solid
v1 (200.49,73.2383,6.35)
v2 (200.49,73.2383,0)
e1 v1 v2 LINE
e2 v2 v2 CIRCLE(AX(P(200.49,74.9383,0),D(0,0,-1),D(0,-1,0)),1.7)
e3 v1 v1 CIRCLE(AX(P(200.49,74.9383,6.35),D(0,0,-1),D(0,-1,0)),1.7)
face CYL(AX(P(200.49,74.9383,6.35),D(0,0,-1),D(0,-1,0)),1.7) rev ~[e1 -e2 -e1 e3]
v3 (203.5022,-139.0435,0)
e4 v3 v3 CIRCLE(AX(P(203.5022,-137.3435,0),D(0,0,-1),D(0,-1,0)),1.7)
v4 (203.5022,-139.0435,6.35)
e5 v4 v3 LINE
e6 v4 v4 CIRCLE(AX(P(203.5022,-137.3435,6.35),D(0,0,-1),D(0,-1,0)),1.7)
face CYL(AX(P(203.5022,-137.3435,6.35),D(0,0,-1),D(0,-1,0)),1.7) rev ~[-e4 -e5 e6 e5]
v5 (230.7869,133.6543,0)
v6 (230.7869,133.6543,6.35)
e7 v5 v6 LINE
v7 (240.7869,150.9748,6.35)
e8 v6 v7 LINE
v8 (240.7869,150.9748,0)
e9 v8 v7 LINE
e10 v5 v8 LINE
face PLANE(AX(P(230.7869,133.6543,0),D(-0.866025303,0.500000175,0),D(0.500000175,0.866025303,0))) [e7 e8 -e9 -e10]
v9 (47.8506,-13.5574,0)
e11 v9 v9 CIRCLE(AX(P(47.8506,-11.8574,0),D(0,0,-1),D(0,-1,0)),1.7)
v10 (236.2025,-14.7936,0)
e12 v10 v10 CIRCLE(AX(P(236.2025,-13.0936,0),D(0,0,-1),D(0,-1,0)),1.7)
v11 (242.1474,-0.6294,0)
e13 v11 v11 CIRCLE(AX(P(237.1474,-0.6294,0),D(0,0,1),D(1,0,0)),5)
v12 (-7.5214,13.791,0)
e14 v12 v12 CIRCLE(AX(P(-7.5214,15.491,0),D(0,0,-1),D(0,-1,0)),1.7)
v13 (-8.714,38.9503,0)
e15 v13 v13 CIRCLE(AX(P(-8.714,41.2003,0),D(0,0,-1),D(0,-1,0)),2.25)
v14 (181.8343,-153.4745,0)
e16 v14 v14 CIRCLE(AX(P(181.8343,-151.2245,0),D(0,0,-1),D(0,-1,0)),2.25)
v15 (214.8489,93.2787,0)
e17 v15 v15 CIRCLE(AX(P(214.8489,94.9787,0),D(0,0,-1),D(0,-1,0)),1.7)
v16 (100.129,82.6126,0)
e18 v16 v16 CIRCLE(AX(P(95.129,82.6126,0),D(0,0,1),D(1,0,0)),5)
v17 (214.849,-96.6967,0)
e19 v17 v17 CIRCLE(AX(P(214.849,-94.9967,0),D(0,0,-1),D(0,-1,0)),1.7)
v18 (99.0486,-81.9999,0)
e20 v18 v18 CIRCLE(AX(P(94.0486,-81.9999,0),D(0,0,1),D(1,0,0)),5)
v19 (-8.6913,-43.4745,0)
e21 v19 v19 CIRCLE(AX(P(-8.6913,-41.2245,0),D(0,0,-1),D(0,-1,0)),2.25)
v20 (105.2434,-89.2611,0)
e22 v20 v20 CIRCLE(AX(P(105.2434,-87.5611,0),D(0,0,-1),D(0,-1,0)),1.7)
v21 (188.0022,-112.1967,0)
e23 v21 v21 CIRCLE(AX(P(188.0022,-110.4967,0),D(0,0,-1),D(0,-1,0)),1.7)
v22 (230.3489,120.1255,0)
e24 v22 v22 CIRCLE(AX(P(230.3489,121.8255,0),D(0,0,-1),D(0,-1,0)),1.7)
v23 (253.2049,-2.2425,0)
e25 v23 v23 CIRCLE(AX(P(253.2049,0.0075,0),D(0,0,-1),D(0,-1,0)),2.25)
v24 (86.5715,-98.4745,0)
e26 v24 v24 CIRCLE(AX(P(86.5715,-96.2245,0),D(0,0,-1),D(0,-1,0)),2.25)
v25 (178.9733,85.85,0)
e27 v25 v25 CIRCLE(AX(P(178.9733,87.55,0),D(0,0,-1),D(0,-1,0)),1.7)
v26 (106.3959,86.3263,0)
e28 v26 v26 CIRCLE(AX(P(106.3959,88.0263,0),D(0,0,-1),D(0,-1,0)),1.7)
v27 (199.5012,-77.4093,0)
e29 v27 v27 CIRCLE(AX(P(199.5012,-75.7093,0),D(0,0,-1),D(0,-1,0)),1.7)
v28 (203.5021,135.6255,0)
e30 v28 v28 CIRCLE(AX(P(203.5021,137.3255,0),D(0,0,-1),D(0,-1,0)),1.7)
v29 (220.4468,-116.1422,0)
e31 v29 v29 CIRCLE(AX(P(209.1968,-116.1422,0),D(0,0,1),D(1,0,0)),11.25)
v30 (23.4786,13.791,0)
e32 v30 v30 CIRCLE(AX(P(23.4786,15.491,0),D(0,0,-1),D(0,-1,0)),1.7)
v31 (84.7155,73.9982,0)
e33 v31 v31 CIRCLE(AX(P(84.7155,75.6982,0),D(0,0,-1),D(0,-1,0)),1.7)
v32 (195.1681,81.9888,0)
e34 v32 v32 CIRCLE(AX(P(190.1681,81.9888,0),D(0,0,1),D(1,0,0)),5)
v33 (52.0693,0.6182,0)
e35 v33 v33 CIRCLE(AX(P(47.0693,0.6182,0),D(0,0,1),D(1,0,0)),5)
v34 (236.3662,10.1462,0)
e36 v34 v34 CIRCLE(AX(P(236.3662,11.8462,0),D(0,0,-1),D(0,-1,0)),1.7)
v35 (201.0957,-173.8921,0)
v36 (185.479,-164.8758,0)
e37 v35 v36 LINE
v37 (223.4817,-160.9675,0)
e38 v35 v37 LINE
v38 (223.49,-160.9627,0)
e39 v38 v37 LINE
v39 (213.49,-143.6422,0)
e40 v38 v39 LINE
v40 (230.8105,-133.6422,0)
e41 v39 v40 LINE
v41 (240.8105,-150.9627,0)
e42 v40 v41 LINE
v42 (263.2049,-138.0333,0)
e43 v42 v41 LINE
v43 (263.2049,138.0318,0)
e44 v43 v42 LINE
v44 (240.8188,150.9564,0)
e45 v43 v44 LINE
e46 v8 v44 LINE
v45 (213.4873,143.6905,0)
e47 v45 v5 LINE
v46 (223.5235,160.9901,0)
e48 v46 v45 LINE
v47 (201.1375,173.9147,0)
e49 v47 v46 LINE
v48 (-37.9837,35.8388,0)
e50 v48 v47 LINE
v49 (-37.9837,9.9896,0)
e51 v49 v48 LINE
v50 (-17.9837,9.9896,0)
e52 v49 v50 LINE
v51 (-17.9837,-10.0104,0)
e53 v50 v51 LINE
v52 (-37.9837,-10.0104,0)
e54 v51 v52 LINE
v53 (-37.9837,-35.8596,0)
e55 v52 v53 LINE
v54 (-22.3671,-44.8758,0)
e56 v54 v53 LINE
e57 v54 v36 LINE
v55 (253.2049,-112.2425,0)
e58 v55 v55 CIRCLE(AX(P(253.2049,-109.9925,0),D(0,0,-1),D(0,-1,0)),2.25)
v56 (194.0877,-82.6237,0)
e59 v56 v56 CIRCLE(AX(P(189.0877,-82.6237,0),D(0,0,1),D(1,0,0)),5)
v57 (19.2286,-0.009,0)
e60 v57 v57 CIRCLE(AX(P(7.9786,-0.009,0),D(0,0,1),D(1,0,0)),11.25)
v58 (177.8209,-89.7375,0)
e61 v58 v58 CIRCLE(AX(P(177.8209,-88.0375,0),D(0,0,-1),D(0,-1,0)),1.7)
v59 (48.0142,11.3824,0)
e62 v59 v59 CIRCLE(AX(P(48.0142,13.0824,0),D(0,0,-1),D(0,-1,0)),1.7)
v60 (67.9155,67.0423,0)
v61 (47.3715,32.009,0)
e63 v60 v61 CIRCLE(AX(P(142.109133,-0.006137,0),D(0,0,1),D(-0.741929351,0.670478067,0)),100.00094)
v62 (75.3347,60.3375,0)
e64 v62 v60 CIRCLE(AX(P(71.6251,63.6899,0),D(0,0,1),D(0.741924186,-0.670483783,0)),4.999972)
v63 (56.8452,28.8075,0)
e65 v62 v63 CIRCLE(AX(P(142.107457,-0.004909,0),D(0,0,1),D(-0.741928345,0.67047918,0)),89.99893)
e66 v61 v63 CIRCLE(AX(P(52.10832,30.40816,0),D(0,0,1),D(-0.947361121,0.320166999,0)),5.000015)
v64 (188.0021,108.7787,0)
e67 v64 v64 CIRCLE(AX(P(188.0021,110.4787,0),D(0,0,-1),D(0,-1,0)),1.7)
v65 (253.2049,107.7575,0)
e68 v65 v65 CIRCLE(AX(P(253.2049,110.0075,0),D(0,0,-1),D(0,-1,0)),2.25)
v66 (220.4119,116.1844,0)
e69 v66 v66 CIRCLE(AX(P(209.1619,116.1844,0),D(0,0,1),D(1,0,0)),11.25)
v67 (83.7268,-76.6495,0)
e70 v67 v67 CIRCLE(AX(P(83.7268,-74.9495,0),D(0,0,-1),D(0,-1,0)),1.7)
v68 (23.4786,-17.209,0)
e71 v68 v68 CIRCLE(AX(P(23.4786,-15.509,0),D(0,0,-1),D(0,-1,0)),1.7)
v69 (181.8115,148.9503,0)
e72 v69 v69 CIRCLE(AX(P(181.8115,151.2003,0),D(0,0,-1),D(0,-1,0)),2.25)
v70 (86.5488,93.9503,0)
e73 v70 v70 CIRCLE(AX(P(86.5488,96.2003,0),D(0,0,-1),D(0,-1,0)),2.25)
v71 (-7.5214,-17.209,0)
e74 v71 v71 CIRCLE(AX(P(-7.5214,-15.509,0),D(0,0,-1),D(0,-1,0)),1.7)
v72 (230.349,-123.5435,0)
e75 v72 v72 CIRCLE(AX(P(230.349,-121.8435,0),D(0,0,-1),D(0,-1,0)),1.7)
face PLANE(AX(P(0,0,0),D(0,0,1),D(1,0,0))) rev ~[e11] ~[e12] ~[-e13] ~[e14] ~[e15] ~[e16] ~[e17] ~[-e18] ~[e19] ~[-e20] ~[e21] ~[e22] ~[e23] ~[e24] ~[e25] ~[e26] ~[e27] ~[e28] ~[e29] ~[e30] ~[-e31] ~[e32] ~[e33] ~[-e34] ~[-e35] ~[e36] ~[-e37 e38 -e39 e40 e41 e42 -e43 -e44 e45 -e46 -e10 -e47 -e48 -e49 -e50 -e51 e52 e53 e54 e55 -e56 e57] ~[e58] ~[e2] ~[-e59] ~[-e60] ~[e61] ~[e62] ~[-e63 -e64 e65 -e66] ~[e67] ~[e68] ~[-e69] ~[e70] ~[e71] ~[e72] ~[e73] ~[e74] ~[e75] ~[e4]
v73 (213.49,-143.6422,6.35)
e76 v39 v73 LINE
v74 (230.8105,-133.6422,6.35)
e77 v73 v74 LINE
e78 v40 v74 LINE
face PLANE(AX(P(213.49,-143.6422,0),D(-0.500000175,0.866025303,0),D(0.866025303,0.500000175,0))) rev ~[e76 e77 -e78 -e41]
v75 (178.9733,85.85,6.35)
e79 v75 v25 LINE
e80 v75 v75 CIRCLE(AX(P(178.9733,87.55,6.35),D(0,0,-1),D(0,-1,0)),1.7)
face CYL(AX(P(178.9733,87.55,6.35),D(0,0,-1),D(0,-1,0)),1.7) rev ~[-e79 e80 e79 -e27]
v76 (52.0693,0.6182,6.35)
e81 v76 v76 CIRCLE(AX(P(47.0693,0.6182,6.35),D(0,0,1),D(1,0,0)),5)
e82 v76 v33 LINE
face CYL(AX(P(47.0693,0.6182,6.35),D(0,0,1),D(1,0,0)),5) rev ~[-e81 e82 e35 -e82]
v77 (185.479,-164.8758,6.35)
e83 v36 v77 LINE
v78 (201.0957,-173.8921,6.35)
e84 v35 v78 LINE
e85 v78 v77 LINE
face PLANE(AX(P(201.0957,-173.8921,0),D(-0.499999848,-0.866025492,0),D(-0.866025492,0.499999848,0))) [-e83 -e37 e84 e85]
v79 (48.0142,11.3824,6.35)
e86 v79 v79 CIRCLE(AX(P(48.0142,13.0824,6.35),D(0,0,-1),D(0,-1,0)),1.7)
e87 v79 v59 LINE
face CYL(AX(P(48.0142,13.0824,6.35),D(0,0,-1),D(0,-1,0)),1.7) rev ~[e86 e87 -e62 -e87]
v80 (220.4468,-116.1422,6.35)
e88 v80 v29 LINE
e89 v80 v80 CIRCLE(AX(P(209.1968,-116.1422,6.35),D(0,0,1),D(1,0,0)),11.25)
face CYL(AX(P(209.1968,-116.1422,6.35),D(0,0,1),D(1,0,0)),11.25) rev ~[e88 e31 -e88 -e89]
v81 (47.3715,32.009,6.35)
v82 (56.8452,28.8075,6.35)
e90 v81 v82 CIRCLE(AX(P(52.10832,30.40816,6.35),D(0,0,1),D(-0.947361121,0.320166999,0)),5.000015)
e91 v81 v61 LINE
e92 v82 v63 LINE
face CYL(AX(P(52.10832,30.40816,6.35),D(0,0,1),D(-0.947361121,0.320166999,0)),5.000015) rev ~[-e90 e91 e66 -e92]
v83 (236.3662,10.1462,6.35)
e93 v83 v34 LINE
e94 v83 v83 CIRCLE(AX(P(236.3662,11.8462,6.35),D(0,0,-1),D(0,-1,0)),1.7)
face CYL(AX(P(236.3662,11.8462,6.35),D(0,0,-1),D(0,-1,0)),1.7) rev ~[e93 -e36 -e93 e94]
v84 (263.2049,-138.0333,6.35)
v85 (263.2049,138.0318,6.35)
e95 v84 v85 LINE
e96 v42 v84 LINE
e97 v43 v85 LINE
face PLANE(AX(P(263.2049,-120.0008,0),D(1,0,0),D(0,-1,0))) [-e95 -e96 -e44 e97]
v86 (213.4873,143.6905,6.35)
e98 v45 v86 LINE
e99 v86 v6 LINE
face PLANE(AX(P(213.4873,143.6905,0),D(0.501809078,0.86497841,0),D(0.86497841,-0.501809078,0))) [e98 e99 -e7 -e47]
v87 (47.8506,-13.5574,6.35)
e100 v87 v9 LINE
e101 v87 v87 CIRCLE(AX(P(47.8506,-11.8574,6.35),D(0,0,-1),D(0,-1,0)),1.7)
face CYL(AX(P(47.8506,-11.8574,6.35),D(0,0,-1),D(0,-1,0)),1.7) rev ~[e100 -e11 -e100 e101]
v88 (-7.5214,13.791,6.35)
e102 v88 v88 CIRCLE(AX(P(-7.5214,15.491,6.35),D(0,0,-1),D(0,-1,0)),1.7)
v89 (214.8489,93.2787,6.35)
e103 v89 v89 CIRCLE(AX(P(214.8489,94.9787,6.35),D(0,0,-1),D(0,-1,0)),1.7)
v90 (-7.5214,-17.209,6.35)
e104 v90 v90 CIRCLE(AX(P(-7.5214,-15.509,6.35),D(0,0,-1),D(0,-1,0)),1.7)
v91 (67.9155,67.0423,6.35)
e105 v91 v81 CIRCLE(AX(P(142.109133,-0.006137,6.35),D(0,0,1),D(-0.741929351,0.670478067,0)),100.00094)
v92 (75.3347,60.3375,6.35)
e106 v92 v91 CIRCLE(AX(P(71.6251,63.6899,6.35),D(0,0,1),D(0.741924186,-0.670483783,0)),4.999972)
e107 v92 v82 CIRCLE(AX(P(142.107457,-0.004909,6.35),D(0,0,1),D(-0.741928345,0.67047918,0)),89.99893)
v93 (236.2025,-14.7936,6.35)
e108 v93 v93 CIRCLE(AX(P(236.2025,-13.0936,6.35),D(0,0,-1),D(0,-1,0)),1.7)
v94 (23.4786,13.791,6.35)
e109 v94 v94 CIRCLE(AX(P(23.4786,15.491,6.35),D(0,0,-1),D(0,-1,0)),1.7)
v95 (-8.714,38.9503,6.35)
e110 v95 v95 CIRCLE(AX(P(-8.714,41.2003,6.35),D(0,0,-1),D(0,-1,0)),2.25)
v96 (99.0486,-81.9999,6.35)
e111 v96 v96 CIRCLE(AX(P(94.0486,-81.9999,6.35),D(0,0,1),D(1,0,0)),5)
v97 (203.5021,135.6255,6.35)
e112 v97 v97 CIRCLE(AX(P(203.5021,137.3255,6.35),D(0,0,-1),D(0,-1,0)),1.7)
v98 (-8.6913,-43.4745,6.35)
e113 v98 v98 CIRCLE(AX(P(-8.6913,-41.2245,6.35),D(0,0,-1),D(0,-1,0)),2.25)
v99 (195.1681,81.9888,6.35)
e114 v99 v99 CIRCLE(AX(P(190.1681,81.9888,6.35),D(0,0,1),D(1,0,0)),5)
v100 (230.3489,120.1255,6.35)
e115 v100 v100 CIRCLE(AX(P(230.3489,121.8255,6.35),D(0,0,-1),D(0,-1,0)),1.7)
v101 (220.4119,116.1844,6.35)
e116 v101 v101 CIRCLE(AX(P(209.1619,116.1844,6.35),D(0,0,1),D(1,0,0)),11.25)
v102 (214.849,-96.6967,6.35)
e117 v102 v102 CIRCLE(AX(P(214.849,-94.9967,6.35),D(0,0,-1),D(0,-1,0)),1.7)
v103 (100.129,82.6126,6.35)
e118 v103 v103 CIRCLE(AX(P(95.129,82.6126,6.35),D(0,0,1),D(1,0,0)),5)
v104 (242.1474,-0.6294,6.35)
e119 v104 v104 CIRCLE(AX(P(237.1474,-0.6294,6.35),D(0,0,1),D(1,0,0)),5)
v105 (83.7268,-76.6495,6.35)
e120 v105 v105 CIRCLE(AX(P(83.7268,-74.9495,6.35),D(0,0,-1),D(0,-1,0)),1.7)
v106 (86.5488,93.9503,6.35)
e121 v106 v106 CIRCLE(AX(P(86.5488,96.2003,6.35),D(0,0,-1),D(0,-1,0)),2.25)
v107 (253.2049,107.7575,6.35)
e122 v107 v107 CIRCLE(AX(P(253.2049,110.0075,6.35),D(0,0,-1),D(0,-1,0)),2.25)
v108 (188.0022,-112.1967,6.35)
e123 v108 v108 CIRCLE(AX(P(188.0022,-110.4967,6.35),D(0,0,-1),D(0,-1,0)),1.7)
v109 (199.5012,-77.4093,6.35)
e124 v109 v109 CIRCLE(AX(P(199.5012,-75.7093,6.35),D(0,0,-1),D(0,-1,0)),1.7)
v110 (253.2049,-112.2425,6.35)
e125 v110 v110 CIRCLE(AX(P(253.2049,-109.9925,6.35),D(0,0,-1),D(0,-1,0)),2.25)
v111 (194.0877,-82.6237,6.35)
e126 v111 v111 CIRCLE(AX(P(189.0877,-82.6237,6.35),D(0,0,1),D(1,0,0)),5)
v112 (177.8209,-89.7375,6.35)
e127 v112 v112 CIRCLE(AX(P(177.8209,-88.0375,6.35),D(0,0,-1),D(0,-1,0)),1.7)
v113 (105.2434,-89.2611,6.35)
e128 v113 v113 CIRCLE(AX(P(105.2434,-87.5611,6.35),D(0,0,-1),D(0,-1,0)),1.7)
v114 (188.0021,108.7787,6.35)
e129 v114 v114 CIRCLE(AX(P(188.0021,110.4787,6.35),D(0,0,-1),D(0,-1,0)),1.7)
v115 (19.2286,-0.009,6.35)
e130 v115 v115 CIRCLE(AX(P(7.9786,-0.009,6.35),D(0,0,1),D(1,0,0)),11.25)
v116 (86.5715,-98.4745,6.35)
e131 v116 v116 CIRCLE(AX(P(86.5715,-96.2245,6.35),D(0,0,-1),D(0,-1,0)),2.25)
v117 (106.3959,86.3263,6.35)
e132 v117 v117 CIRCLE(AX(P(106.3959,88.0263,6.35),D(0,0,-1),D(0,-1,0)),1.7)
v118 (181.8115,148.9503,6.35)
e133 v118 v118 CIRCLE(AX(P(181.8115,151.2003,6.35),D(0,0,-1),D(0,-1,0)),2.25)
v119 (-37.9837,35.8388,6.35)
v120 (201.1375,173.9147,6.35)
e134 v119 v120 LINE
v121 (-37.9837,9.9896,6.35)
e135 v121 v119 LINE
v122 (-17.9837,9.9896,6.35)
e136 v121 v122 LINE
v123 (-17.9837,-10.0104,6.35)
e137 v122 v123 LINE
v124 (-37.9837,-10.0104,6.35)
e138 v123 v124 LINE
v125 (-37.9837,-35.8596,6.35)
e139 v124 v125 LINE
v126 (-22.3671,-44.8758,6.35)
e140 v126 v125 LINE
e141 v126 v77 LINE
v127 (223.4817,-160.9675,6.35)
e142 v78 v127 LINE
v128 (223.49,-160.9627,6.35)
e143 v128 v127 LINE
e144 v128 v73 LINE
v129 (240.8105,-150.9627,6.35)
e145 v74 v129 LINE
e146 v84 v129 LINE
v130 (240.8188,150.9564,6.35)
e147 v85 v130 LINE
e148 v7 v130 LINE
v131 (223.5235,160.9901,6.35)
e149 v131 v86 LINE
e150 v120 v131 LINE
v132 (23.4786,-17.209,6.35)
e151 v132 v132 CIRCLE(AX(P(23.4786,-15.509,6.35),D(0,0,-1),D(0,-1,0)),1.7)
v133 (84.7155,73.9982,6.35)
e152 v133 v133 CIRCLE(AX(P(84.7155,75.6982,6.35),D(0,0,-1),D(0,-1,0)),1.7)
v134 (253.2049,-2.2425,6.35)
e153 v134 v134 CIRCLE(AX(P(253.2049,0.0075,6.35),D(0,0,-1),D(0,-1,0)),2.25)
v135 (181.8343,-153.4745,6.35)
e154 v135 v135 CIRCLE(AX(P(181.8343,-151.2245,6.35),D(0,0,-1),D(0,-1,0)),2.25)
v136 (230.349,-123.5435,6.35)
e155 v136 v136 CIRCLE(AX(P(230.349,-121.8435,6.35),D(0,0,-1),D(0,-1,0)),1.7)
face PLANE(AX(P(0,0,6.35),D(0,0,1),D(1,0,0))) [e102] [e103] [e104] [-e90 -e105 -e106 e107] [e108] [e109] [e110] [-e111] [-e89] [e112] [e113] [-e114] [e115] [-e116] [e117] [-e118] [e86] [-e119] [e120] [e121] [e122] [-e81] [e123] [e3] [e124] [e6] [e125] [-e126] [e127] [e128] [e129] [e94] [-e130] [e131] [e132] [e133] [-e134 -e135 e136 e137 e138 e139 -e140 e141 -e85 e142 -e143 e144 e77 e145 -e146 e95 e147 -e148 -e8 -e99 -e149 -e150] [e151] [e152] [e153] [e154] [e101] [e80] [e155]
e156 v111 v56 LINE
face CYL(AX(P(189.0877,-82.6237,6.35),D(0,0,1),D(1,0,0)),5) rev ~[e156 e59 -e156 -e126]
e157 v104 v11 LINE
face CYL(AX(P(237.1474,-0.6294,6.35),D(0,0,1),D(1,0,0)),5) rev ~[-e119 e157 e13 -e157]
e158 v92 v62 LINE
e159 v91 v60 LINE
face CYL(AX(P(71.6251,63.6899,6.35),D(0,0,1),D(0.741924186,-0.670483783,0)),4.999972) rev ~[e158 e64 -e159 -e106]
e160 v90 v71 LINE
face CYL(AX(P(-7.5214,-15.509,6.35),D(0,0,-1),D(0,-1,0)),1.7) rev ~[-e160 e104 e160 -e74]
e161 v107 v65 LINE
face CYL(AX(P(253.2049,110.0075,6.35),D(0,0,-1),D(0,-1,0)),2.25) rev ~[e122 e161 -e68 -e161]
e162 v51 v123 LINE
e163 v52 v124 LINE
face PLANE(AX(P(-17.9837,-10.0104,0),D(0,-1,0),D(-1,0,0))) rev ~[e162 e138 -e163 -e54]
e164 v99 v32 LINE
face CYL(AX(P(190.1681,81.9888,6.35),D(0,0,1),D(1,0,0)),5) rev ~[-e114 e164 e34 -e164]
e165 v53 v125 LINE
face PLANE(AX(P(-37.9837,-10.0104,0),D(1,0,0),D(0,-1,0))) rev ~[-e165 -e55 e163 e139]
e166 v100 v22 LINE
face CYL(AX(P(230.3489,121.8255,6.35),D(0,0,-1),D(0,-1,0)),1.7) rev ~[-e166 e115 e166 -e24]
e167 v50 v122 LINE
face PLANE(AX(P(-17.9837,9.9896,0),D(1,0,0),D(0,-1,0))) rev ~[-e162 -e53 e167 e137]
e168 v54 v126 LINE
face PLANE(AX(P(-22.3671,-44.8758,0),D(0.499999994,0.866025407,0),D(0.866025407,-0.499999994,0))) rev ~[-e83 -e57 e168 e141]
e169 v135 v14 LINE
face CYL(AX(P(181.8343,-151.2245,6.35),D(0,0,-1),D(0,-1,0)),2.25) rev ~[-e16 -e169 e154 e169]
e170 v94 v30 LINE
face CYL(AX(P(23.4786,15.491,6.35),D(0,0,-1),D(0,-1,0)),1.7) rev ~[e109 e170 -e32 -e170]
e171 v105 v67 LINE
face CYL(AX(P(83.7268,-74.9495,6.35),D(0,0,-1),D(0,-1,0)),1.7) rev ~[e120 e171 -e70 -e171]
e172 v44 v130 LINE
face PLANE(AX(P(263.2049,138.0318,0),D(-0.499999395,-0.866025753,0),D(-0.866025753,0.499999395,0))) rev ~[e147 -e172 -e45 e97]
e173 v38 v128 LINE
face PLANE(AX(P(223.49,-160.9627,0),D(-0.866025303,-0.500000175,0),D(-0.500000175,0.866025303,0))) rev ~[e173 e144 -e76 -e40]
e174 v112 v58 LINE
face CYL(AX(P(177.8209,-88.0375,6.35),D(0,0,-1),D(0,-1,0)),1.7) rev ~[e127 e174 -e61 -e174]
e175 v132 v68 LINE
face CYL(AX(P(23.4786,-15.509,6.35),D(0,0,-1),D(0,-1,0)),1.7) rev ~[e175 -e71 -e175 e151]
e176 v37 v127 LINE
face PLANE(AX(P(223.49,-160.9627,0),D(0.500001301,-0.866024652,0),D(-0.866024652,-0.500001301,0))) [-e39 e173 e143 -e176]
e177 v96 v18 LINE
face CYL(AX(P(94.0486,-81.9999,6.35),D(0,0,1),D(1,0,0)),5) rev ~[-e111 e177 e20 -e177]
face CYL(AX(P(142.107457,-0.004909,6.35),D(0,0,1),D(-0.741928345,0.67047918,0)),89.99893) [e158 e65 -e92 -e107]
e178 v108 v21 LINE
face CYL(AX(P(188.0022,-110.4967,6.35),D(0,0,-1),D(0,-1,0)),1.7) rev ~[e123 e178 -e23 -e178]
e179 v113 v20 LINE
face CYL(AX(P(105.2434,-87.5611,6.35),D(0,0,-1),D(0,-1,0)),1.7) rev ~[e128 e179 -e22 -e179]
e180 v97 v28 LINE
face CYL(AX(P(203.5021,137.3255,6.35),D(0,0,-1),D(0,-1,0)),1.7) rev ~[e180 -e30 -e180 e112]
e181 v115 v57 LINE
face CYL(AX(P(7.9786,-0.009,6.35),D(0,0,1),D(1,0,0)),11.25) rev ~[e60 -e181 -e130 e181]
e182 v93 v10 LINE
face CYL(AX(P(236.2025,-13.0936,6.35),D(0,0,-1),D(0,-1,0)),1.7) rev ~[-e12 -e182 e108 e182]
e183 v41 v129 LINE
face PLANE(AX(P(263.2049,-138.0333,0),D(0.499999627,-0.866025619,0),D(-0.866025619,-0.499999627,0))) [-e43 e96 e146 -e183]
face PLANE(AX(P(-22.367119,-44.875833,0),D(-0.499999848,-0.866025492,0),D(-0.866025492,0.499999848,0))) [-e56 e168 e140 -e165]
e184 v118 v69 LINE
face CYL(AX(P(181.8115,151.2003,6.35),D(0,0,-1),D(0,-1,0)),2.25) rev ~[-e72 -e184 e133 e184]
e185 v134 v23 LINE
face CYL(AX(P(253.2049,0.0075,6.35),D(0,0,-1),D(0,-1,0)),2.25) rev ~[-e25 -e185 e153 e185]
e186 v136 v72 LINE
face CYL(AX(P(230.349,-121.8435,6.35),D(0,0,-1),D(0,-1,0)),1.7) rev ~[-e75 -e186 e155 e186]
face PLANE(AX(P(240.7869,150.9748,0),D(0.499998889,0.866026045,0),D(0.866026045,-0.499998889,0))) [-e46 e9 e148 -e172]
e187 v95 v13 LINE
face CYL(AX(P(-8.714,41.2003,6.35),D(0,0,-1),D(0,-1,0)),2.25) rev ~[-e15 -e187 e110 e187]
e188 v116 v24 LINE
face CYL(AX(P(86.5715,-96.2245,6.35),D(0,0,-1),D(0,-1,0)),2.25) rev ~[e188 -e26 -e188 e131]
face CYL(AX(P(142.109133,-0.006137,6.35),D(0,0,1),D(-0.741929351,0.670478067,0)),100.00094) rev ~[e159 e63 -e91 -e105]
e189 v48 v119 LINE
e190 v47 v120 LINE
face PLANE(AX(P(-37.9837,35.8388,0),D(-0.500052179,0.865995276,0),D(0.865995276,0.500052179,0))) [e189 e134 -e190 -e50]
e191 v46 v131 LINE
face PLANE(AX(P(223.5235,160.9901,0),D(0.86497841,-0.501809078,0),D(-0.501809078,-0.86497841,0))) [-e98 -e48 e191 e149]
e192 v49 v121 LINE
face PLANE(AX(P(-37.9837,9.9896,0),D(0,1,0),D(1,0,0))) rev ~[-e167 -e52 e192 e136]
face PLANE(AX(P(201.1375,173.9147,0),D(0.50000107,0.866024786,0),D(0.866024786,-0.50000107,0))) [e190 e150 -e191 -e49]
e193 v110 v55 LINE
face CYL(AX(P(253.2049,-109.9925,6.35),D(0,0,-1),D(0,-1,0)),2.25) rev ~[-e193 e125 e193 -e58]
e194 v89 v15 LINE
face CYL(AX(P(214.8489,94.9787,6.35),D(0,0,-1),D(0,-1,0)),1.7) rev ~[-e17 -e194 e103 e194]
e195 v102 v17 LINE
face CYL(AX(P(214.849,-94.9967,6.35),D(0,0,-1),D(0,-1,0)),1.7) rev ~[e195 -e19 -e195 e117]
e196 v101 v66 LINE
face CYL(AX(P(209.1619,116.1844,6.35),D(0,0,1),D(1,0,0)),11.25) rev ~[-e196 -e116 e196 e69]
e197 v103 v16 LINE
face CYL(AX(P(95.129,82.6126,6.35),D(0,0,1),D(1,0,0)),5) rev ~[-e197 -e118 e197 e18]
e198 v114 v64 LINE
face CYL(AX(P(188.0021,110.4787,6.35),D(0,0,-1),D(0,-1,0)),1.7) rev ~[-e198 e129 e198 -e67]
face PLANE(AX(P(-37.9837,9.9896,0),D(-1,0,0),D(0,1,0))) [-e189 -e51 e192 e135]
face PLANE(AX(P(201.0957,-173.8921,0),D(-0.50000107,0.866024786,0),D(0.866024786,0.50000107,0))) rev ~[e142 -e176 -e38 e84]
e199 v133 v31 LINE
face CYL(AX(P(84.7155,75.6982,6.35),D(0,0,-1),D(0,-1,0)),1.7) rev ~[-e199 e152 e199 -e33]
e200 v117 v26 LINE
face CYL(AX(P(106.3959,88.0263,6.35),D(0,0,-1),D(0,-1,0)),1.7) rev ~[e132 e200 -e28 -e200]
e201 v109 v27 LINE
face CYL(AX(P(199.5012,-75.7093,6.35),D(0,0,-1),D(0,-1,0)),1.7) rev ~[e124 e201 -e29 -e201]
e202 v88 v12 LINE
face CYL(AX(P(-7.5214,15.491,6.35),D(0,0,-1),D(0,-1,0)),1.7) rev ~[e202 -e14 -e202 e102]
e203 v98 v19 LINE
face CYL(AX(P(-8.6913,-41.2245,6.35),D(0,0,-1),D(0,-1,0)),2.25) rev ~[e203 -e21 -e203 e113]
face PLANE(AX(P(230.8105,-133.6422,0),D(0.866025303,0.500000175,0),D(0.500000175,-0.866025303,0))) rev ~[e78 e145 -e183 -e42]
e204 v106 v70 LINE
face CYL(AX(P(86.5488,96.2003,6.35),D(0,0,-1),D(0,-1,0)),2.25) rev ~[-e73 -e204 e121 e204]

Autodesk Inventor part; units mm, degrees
ref_plane "YZ Plane" through (0, 0, 0) normal (1, 0, 0) x (0, 1, 0)
ref_plane "XZ Plane" through (0, 0, 0) normal (0, 1, 0) x (-1, 0, 0)
ref_plane "XY Plane" through (0, 0, 0) normal (0, 0, 1) x (1, 0, 0)
sketch "Sketch1" plane through (0, 0, 0) normal (0, 0, 1) x (1, 0, 0)
  line L0 (-22.3671, -44.8758) -> (185.479, -164.8758)
  line L1 (263.2049, -120.0008) -> (263.2049, 119.9992)
  line L2 (263.2049, 138.0318) -> (240.8188, 150.9564)
  line L3 (201.0957, -173.8921) -> (223.4817, -160.9675)
  line L4 (-37.9837, -10.0104) -> (-37.9837, -35.8596)
  line L5 (263.2049, 138.0318) -> (263.2049, -138.0333)
  line L6 (201.0957, -173.8921) -> (-37.9837, -35.8596)
  line L7 (-37.9837, 9.9896) -> (-17.9837, 9.9896)
  line L8 (-17.9837, 9.9896) -> (-17.9837, -10.0104)
  line L9 (-17.9837, -10.0104) -> (-37.9837, -10.0104)
  line L10 (-37.9837, -35.8596) -> (-37.9837, -10.0104)
  line L11 (-37.9837, 9.9896) -> (-37.9837, 35.8388)
  line L12 (223.49, -160.9627) -> (213.49, -143.6422)
  line L13 (213.49, -143.6422) -> (230.8105, -133.6422)
  line L14 (230.8105, -133.6422) -> (240.8105, -150.9627)
  line L15 (263.2049, -138.0333) -> (240.8105, -150.9627)
  line L16 (223.49, -160.9627) -> (201.0957, -173.8921)
  line L17 (223.5235, 160.9901) -> (213.4873, 143.6905)
  line L18 (213.4873, 143.6905) -> (230.7869, 133.6543)
  line L19 (230.7869, 133.6543) -> (240.7869, 150.9748)
  line L20 (201.1375, 173.9147) -> (223.5235, 160.9901)
  line L21 (240.7869, 150.9748) -> (263.2049, 138.0318)
  line L22 (-37.9837, 35.8388) -> (201.1375, 173.9147)
  point P0 (0, 0)
  dimension "d0" = 20
  dimension "d1" = 20
  dimension "d2" = 20
  dimension "d3" = 20
  dimension "d4" = 20
  dimension "d5" = 20
extrude "Extrusion1" add sketch "Sketch1" along normal blind 6.35
sketch "Sketch2" plane through (0, 0, 6.35) normal (0, 0, 1) x (1, 0, 0)
  line L0 (201.1375, 173.9147) -> (-37.9837, 35.8388) projected
  line L1 (-37.9837, -35.8596) -> (201.0957, -173.8921) projected
  line L2 (263.2049, -138.0333) -> (263.2049, 138.0318) projected
  line L3 (-13.2714, -20.105) -> (-13.2714, 20.0856) projected
  line L4 (237.2204, -124.5359) -> (202.4143, -144.6312) projected
  line L5 (202.4143, 144.6118) -> (237.2204, 124.5165) projected
  line L6 (-13.2714, -0.0097) -> (263.2049, -0.0008) construction
  line L7 (219.8173, 134.5641) -> (81.556, -104.8758) construction
  line L8 (219.8173, -134.5836) -> (81.5535, 104.8633) construction
  circle A0 centre (142.1099, -0.009) radius 90 construction
  line L9 (-13.2714, -21.259) -> (29.2286, -21.259) construction
  line L10 (29.2286, -21.259) -> (29.2286, 21.241) construction
  line L11 (29.2286, 21.241) -> (-13.2714, 21.241) construction
  line L12 (-13.2714, 21.241) -> (-13.2714, -21.259) construction
  line L13 (-13.2714, -21.259) -> (29.2286, 21.241) construction
  line L14 (29.2286, -21.259) -> (-13.2714, 21.241) construction
  line L15 (-7.5214, -15.509) -> (23.4786, -15.509) construction
  line L16 (23.4786, -15.509) -> (23.4786, 15.491) construction
  line L17 (23.4786, 15.491) -> (-7.5214, 15.491) construction
  line L18 (-7.5214, 15.491) -> (-7.5214, -15.509) construction
  line L19 (-7.5214, -15.509) -> (23.4786, 15.491) construction
  line L20 (23.4786, -15.509) -> (-7.5214, 15.491) construction
  point P0 (0, 0)
  point P1 (7.9786, -0.009)
  point P2 (203.5022, -137.3435)
  point P3 (188.0022, -110.4967)
  point P4 (214.849, -94.9967)
  point P5 (230.349, -121.8435)
  point P6 (230.3489, 121.8255)
  point P7 (214.8489, 94.9787)
  point P8 (188.0021, 110.4787)
  point P9 (203.5021, 137.3255)
  dimension "d8" = 180
  dimension "d9" = 42.5
  dimension "d10" = 42.5
  dimension "d11" = 31
  dimension "d12" = 31
  dimension "d15" = 360
hole "Hole1" at (-7.5214, 15.491, 6.35) at (23.4786, 15.491, 6.35) at (23.4786, -15.509, 6.35) at (-7.5214, -15.509, 6.35) at (230.349, -121.8435, 6.35) at (214.849, -94.9967, 6.35) at (188.0022, -110.4967, 6.35) at (203.5022, -137.3435, 6.35) at (203.5021, 137.3255, 6.35) at (188.0021, 110.4787, 6.35) at (214.8489, 94.9787, 6.35) at (230.3489, 121.8255, 6.35) direction (0, 0, -1) diameter 3.4 end through all clearance for "Socket Head Cap Screw" size "M3" standard "Ansi Metric M Profile"
sketch "Sketch3" plane through (0, 0, 6.35) normal (0, 0, 1) x (1, 0, 0)
  circle A0 centre (23.4786, -15.509) radius 1.7 projected
  circle A1 centre (-7.5214, 15.491) radius 1.7 projected
  line L0 (-17.9837, 9.9896) -> (-17.9837, -10.0104) projected
  line L1 (213.49, -143.6422) -> (230.8105, -133.6422) projected
  line L2 (230.7869, 133.6543) -> (213.4873, 143.6905) projected
  line L3 (-7.5214, 15.491) -> (23.4786, -15.509) construction
  circle A2 centre (7.9786, -0.009) radius 11.25
  circle A3 centre (142.1124, 0.0111) radius 160.0962 construction
  circle A4 centre (209.1968, -116.1422) radius 11.25
  circle A5 centre (209.1619, 116.1844) radius 11.25
  point P0 (0, 0)
  dimension "d24" = 22.5
  dimension "d27" = 360
extrude "Extrusion2" cut sketch "Sketch3" against normal through all contours A2 | A4 | A5
sketch "Sketch4" plane through (0, 0, 6.35) normal (0, 0, 1) x (1, 0, 0)
  line L0 (201.1375, 173.9147) -> (-37.9837, 35.8388) projected
  line L1 (-37.9837, -35.8596) -> (201.0957, -173.8921) projected
  line L2 (263.2049, -138.0333) -> (263.2049, 138.0318) projected
  circle A0 centre (-13.6913, -49.8848) radius 10 construction
  circle A1 centre (176.8343, -159.8848) radius 10 construction
  line L3 (-8.6913, -41.2245) -> (181.8343, -151.2245) construction
  line L4 (-22.3516, -44.8848) -> (-12.3516, -27.5643) construction
  line L5 (195.4945, -147.5643) -> (185.4945, -164.8848) construction
  circle A2 centre (142.1084, -0.0056) radius 121.0965 construction
  point P0 (0, 0)
  point P1 (86.5715, -96.2245)
  point P2 (253.2049, 0.0075)
  point P3 (253.2049, -109.9925)
  point P4 (253.2049, 110.0075)
  point P5 (86.5488, 96.2003)
  point P6 (181.8115, 151.2003)
  point P7 (-8.714, 41.2003)
  dimension "d31" = 20
  dimension "d32" = 20
  dimension "d35" = 360
hole "Hole2" at (86.5715, -96.2245, 6.35) at (-8.6913, -41.2245, 6.35) at (181.8343, -151.2245, 6.35) at (253.2049, -109.9925, 6.35) at (253.2049, 0.0075, 6.35) at (253.2049, 110.0075, 6.35) at (181.8115, 151.2003, 6.35) at (86.5488, 96.2003, 6.35) at (-8.714, 41.2003, 6.35) direction (0, 0, -1) diameter 4.5 end through all clearance for "Socket Head Cap Screw" size "M4" standard "Ansi Metric M Profile"
sketch "Sketch5" plane through (0, 0, 6.35) normal (0, 0, 1) x (1, 0, 0)
  line L0 (201.1375, 173.9147) -> (-37.9837, 35.8388) projected
  line L1 (-37.9837, -35.8596) -> (201.0957, -173.8921) projected
  line L2 (263.2049, -138.0333) -> (263.2049, 138.0318) projected
  circle A0 centre (142.1084, -0.0056) radius 121.0965 construction
  circle A1 centre (142.1084, -0.0056) radius 95 construction
  circle A2 centre (47.0693, 0.6182) radius 12.5 construction
  arc A3 (71.6251, 63.6899) -> (52.1084, 30.4082) centre (142.1084, -0.0056) ccw construction
  arc A4 (67.9155, 67.0423) -> (47.3715, 32.009) centre (142.1084, -0.0056) ccw
  arc A5 (75.3347, 60.3375) -> (56.8452, 28.8075) centre (142.1084, -0.0056) ccw
  arc A6 (75.3347, 60.3375) -> (67.9155, 67.0423) centre (71.6251, 63.6899) ccw
  arc A7 (47.3715, 32.009) -> (56.8452, 28.8075) centre (52.1084, 30.4082) ccw
  circle A8 centre (47.0693, 0.6182) radius 5
  circle A9 centre (94.0486, -81.9999) radius 5
  circle A10 centre (189.0877, -82.6237) radius 5
  circle A11 centre (237.1474, -0.6294) radius 5
  circle A12 centre (190.1681, 81.9888) radius 5
  circle A13 centre (95.129, 82.6126) radius 5
  point P0 (0, 0)
  point P1 (48.0142, 13.0824)
  point P2 (47.8506, -11.8574)
  point P3 (83.7268, -74.9495)
  point P4 (105.2434, -87.5611)
  point P5 (177.8209, -88.0375)
  point P6 (199.5012, -75.7093)
  point P7 (236.2025, -13.0936)
  point P8 (236.3662, 11.8462)
  point P9 (200.49, 74.9383)
  point P10 (178.9733, 87.55)
  point P11 (106.3959, 88.0263)
  point P12 (84.7155, 75.6982)
  dimension "d45" = 190
  dimension "d46" = 25
  dimension "d49" = 360
  dimension "d60" = 10
  dimension "d63" = 360
extrude "Extrusion3" cut sketch "Sketch5" against normal through all contours A6 A5 A7 A4
hole "Hole3" at (48.0142, 13.0824, 6.35) at (47.8506, -11.8574, 6.35) at (83.7268, -74.9495, 6.35) at (105.2434, -87.5611, 6.35) at (177.8209, -88.0375, 6.35) at (199.5012, -75.7093, 6.35) at (236.2025, -13.0936, 6.35) at (236.3662, 11.8462, 6.35) at (200.49, 74.9383, 6.35) at (178.9733, 87.55, 6.35) at (106.3959, 88.0263, 6.35) at (84.7155, 75.6982, 6.35) direction (0, 0, -1) diameter 3.4 end through all clearance for "Socket Head Cap Screw" size "M3" standard "Ansi Metric M Profile"
extrude "Extrusion4" cut sketch "Sketch5" against normal through all contours A8 | A9 | A10 | A11 | A12 | A13
properties part number "build deck"
